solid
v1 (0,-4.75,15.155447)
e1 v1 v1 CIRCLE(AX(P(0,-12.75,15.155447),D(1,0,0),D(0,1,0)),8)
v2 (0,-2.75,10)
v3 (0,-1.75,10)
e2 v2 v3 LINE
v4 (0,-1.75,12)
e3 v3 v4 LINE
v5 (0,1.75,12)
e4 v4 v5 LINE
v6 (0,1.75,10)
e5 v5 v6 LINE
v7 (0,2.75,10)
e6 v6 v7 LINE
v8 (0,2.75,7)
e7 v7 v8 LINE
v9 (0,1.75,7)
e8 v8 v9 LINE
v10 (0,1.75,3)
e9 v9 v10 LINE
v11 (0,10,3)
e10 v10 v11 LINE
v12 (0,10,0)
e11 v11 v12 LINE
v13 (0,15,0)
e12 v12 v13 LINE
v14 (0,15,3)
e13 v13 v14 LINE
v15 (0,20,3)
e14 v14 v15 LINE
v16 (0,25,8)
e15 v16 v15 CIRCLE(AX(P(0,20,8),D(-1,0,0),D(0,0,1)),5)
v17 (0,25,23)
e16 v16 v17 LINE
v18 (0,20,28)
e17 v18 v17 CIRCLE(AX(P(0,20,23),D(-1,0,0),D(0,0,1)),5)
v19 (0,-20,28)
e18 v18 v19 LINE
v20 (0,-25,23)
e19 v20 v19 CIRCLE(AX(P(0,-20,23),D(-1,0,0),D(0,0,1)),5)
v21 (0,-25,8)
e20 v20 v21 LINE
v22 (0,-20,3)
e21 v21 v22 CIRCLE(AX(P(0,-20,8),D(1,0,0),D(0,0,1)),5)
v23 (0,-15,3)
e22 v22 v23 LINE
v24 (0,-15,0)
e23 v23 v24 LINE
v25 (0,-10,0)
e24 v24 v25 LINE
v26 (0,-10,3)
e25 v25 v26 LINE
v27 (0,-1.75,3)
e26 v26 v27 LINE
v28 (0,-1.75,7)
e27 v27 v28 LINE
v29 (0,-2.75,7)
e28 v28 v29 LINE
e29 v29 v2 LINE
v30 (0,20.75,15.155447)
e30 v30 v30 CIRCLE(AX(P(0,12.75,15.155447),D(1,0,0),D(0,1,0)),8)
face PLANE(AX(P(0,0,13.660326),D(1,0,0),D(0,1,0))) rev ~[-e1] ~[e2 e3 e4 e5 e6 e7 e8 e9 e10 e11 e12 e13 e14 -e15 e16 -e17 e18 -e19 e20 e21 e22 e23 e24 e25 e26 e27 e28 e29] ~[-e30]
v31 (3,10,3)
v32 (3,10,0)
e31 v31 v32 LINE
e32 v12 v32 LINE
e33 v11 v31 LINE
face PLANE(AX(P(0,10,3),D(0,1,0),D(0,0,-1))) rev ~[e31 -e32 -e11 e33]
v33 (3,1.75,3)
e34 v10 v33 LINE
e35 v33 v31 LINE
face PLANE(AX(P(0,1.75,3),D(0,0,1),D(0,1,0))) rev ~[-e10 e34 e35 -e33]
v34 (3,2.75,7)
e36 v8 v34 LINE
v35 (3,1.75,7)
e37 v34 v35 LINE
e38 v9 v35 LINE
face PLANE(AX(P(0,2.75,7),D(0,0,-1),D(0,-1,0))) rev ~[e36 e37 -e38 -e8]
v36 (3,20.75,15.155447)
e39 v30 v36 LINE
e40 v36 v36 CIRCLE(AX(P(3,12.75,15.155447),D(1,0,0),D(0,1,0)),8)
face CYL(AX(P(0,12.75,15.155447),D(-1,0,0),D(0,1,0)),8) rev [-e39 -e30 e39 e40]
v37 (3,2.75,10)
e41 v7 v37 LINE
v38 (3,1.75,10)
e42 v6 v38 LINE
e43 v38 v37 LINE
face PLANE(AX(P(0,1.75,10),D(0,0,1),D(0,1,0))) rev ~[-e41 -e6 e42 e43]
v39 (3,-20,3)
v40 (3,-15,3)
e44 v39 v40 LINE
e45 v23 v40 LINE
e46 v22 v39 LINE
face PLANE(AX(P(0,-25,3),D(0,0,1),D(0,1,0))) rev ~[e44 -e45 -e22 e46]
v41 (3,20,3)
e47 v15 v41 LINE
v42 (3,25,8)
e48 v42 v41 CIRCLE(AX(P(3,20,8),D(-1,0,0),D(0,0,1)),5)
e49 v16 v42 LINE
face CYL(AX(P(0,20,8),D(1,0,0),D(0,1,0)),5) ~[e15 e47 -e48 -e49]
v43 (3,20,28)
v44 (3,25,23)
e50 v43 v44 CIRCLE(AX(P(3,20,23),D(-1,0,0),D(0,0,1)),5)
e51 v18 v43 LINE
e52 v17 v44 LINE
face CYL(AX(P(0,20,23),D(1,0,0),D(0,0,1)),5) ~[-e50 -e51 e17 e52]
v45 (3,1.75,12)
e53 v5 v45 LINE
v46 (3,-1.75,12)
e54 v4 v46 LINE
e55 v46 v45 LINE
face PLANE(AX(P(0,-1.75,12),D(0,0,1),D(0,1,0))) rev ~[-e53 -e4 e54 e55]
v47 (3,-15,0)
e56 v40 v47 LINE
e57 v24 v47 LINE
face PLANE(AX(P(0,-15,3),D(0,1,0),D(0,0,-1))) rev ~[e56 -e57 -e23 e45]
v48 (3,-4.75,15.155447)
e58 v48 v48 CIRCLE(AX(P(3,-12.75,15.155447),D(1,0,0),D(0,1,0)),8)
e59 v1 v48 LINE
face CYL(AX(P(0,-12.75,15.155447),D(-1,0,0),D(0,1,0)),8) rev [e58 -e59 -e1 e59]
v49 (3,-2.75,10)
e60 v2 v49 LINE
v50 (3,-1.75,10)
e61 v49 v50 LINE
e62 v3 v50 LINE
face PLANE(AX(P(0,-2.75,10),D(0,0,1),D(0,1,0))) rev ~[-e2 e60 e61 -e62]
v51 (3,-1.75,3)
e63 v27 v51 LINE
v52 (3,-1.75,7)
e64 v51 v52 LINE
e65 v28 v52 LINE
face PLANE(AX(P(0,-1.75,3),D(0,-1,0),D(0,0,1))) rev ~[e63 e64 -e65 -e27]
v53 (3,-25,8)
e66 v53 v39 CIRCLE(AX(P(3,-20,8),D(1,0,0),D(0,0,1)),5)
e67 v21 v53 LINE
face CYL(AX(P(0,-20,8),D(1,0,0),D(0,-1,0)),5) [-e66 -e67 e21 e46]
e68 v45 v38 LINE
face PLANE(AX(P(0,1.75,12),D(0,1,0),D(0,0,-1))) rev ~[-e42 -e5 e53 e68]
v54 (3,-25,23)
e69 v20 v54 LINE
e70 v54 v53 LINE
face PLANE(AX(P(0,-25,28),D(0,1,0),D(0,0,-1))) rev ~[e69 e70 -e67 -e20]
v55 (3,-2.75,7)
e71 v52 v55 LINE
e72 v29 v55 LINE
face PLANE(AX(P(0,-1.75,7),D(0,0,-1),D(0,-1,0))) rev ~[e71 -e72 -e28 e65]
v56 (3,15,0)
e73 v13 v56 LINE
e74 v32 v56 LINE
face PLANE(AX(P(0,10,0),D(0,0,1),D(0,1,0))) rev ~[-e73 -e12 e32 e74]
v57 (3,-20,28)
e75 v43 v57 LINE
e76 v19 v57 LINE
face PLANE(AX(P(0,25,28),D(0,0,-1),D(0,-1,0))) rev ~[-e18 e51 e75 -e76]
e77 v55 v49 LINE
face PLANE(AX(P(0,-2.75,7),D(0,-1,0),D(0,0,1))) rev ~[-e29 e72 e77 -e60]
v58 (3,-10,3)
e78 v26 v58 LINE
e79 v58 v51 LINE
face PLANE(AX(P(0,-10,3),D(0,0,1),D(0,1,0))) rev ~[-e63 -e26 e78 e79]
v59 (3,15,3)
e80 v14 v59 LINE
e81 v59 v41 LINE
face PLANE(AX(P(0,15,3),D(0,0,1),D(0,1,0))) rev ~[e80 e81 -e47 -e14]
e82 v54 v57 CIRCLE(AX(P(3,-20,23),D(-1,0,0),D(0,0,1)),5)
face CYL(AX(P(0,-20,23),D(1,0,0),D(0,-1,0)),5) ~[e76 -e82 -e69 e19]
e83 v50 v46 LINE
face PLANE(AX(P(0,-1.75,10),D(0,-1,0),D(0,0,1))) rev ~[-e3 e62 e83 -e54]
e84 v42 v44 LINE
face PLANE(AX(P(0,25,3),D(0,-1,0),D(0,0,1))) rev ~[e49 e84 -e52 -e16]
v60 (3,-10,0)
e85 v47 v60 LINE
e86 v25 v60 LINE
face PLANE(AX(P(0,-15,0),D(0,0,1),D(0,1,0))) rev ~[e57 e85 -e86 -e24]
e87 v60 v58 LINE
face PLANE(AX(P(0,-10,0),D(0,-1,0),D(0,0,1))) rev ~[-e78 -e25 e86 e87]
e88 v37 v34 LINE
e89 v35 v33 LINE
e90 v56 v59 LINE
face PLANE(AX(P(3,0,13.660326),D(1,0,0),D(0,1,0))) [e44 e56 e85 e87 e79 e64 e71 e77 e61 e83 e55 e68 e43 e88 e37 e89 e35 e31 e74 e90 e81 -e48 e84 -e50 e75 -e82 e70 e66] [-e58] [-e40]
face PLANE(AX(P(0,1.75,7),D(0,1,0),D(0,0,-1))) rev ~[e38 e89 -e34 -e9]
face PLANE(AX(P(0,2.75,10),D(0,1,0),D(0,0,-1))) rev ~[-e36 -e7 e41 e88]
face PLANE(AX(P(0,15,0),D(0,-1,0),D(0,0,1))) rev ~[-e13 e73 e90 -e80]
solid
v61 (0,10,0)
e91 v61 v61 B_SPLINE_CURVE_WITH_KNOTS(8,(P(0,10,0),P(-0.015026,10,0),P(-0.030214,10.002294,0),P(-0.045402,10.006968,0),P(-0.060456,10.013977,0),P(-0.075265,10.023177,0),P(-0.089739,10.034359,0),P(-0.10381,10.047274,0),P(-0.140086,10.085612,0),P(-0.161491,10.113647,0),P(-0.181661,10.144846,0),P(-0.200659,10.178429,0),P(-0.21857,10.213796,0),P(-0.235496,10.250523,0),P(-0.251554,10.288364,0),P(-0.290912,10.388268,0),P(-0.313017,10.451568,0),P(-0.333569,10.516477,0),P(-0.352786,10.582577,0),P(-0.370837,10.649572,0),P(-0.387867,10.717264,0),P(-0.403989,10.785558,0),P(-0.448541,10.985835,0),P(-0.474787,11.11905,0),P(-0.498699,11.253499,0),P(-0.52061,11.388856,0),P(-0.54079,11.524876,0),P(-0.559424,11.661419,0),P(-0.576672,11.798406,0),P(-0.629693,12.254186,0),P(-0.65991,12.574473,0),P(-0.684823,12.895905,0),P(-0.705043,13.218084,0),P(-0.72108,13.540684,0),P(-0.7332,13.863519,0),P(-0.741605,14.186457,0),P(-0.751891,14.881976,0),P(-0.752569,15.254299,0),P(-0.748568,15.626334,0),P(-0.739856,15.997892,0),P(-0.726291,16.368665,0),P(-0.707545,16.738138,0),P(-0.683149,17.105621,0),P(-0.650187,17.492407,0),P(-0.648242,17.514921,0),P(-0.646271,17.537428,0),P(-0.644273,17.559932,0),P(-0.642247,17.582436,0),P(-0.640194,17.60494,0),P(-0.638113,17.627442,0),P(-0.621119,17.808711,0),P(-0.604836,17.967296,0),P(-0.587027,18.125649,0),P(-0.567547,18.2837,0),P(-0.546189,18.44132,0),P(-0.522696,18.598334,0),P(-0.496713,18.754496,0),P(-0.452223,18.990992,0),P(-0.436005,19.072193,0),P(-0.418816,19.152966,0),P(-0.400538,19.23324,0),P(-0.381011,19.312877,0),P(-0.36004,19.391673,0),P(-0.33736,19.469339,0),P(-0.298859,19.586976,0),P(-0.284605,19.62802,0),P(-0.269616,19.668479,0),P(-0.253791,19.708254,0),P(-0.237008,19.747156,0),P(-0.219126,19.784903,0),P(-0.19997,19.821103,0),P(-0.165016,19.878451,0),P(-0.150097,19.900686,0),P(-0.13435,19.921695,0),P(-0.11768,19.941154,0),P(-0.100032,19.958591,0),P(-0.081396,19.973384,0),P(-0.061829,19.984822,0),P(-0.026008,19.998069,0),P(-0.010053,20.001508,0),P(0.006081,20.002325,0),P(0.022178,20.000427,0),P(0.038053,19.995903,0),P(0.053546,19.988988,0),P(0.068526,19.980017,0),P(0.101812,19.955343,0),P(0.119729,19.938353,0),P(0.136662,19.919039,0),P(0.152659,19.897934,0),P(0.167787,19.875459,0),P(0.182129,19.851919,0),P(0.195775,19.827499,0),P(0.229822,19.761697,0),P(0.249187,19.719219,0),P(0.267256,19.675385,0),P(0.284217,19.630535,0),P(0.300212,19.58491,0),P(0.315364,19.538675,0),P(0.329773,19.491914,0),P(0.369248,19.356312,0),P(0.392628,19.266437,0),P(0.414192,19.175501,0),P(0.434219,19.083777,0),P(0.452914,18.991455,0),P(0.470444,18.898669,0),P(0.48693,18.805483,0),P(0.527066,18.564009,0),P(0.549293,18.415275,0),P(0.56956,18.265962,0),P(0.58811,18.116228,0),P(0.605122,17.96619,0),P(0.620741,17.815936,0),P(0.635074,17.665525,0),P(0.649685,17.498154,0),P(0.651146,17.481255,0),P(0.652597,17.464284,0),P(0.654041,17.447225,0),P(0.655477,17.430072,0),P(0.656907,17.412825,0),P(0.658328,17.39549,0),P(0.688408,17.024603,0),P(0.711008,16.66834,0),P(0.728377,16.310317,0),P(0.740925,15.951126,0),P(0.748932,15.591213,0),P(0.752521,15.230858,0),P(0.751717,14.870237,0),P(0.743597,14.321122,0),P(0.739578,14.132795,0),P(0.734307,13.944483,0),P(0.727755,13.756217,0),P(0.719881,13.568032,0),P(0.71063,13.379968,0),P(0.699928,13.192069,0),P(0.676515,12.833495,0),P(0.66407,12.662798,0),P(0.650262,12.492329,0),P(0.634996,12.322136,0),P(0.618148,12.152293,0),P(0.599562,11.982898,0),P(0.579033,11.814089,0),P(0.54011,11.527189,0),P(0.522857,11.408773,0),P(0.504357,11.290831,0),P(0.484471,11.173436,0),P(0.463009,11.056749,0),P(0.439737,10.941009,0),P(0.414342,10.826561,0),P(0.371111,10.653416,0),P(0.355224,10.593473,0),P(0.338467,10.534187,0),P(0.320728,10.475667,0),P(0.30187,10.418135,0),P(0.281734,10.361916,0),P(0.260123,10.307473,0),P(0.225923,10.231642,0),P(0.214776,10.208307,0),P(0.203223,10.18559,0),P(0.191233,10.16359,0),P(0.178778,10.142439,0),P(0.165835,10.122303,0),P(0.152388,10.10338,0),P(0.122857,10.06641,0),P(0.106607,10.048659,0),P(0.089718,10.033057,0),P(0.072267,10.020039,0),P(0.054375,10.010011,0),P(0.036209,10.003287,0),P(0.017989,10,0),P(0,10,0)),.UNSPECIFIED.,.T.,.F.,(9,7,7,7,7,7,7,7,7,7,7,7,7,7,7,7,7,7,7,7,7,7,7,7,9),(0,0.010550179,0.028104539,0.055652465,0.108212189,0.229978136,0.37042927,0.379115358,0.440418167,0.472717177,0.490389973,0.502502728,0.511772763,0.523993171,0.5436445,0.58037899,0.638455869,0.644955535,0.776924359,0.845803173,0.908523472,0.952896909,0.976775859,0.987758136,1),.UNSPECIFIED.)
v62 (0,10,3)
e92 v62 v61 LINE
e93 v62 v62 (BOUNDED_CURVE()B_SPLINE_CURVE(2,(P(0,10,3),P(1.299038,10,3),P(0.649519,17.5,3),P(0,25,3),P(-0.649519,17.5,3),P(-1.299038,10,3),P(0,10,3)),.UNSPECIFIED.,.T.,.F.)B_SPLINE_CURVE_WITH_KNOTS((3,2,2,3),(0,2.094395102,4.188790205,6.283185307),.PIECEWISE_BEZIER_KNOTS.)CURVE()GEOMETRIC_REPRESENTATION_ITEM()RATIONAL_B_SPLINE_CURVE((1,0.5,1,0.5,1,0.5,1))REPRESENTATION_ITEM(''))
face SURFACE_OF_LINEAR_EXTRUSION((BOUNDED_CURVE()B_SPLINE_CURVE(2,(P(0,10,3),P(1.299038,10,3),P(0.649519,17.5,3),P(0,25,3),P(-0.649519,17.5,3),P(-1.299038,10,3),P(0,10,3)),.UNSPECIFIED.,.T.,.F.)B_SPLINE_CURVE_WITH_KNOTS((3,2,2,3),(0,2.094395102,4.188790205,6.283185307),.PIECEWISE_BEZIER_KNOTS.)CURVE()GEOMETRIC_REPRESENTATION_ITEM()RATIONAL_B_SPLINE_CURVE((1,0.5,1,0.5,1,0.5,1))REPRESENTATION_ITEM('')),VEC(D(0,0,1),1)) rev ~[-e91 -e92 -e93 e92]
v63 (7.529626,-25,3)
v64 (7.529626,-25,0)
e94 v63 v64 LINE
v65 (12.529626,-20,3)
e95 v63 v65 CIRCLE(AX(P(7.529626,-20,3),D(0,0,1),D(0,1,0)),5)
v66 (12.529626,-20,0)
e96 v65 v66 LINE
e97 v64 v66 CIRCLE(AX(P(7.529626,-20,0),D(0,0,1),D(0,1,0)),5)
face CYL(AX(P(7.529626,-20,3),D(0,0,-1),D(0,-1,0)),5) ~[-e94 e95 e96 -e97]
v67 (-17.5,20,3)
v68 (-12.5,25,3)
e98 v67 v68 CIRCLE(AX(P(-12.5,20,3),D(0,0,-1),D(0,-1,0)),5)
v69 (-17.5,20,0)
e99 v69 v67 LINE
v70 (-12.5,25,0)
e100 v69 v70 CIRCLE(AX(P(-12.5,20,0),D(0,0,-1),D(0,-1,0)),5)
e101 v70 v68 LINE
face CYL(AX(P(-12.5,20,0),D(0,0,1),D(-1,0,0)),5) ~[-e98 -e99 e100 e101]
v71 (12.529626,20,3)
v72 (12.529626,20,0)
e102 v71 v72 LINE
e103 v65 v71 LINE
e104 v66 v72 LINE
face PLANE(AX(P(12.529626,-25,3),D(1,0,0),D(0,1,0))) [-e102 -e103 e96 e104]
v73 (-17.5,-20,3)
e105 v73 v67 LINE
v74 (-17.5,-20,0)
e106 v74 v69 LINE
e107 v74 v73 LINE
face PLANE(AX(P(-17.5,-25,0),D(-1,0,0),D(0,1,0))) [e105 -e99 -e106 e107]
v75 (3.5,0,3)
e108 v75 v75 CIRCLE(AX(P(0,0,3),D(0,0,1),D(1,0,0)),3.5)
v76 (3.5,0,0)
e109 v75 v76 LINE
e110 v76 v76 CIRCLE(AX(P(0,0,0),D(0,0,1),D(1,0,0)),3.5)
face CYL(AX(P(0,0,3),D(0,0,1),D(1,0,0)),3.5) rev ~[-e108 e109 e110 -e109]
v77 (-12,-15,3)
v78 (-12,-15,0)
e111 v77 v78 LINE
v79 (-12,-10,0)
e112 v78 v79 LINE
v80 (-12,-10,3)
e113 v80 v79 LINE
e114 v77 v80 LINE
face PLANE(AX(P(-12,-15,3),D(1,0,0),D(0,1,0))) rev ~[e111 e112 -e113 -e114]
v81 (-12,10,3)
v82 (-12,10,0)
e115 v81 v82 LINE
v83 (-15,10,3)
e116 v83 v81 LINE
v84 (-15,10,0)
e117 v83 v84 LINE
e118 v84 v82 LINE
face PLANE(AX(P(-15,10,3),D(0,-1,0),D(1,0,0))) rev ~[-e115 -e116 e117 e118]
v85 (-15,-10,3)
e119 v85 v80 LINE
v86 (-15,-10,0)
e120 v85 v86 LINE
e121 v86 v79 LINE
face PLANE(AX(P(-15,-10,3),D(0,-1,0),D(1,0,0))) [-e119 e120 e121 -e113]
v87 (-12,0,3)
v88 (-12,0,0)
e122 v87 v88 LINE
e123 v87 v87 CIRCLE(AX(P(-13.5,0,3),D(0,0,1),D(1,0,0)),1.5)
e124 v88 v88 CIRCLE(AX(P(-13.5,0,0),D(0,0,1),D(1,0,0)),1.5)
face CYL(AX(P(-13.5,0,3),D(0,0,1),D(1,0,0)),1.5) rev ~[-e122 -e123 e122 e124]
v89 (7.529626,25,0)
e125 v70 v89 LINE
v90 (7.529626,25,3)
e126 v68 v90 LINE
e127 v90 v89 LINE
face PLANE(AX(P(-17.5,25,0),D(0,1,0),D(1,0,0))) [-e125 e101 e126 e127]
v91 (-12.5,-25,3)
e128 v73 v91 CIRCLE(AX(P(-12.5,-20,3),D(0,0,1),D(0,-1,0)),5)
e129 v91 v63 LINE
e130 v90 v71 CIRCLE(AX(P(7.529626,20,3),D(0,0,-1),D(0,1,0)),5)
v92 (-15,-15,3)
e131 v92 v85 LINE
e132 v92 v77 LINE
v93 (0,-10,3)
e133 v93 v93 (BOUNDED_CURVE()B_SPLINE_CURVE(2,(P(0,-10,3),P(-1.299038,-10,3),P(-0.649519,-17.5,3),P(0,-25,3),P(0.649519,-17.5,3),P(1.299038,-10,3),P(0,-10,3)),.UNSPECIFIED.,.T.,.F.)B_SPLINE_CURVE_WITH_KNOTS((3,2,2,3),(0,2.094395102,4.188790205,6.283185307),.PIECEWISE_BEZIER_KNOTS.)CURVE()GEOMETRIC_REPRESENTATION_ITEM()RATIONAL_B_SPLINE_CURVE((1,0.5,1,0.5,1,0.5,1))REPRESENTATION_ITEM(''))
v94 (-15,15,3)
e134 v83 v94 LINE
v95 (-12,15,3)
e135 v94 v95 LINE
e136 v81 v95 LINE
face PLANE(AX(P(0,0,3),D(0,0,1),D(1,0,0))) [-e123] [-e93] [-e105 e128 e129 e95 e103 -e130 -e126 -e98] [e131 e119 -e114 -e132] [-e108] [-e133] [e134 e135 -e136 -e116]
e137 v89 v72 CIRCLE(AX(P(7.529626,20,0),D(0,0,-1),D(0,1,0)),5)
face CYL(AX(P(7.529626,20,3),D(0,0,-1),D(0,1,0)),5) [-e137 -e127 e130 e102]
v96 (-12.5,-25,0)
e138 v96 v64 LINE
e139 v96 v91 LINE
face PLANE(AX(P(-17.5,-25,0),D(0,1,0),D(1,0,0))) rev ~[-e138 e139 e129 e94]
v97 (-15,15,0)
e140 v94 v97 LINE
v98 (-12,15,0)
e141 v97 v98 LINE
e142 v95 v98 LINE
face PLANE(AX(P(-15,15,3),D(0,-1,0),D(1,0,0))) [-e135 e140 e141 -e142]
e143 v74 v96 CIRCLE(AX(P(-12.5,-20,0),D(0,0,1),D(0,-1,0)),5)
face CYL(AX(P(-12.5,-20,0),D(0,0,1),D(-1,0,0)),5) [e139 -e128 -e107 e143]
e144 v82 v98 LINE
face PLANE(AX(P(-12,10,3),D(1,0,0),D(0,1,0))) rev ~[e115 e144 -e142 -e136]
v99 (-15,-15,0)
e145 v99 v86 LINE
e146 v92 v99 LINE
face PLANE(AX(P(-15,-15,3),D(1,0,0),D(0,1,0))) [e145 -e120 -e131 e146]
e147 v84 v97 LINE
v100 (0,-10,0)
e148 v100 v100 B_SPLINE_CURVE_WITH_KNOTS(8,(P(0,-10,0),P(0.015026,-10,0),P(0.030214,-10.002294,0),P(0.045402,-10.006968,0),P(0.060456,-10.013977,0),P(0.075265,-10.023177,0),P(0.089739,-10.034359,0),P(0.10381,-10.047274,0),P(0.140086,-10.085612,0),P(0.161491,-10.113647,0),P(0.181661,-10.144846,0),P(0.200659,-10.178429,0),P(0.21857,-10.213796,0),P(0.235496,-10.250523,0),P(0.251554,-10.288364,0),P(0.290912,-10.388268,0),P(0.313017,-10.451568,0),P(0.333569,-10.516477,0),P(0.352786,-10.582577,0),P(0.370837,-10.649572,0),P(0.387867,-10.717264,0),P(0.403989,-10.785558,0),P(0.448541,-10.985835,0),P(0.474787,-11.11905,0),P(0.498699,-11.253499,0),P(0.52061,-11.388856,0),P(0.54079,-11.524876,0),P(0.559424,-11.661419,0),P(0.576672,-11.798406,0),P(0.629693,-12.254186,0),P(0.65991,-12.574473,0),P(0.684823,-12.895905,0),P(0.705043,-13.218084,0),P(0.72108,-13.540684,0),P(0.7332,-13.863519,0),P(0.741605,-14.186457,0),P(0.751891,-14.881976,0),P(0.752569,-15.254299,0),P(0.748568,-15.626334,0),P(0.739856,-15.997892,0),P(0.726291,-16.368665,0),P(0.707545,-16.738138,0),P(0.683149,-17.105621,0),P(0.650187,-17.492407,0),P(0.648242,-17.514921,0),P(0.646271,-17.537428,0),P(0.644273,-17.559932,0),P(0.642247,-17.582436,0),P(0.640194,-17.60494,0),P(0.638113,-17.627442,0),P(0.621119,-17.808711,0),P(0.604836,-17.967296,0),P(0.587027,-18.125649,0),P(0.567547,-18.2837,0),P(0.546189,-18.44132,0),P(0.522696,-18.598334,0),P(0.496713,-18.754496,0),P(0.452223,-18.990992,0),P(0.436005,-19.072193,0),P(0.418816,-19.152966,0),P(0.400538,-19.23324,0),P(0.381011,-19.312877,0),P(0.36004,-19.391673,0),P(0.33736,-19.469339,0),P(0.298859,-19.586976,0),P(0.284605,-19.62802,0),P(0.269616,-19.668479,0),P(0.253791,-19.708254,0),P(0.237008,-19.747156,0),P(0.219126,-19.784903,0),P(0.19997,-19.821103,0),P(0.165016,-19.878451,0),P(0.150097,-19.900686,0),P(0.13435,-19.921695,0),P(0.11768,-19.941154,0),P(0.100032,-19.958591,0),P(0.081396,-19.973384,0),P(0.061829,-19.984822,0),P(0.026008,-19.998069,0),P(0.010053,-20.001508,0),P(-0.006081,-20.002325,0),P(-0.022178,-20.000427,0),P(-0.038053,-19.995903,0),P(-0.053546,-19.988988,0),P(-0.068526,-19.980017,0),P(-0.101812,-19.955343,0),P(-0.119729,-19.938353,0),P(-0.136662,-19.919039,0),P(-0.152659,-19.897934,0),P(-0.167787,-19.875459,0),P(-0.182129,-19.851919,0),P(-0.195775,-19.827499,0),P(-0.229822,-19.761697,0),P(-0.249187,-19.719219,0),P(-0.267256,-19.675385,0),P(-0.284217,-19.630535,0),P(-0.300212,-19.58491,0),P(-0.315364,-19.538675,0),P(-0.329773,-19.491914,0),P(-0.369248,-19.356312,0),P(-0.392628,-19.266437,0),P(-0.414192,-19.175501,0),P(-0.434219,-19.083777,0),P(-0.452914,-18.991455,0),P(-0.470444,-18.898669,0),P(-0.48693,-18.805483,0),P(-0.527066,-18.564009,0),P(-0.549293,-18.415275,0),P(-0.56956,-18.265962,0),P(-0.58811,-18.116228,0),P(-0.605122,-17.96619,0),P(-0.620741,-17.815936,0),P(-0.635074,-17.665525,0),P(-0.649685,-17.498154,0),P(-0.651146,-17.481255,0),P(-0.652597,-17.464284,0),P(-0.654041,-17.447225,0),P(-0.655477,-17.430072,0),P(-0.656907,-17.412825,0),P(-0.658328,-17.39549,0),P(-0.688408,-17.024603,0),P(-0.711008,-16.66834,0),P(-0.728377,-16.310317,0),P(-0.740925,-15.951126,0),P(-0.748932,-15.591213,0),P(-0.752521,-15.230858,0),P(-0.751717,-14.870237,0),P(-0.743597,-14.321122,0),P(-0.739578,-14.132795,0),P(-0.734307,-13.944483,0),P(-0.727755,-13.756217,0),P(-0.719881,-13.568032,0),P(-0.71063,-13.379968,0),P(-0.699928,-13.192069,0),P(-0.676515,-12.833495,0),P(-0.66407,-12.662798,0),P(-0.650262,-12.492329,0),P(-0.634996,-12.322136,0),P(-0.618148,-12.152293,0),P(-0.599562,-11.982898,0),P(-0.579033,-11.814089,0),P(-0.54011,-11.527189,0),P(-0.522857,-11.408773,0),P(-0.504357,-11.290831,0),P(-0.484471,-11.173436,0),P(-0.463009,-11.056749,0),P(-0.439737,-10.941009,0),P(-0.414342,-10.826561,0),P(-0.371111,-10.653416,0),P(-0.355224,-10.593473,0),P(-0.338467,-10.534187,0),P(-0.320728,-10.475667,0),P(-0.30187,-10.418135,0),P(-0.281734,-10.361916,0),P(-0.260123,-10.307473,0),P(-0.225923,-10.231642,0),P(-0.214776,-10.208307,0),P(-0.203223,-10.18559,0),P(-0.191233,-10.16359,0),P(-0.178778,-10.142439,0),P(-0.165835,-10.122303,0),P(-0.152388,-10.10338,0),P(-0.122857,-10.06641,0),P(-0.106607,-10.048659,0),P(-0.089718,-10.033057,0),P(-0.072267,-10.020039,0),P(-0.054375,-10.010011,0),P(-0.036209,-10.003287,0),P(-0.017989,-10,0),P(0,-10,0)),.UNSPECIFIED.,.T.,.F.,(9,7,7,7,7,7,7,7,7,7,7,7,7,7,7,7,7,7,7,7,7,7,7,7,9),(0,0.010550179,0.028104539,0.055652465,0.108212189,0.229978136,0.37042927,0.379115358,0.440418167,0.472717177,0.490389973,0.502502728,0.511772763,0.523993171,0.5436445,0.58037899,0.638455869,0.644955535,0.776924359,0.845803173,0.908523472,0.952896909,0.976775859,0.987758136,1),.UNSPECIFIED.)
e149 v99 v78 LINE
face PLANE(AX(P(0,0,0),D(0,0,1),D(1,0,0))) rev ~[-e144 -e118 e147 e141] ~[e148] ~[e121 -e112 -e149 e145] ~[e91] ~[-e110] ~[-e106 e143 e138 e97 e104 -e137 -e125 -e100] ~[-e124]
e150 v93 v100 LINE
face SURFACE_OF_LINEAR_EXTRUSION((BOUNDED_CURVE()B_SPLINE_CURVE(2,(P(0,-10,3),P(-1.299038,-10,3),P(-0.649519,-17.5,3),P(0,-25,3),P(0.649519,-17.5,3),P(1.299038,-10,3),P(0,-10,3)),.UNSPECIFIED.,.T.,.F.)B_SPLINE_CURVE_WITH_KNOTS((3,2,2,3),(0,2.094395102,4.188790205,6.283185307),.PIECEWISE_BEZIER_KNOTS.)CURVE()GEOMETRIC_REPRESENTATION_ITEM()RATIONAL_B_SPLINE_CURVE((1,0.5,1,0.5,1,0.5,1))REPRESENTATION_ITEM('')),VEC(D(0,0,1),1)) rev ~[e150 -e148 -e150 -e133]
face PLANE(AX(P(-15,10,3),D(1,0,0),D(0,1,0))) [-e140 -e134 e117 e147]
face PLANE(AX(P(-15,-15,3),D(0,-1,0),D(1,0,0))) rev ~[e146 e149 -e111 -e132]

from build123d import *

# Parameters (mm, degrees)
F0_W     = 35
F0_H     = 50
F1_DEPTH = 3
F2_W     = 3
F2_H     = 5
F2_R     = 1.5
F2_R_2   = 3.5
F2_W_2   = 4.9703744426
F2_H_2   = 50
F3_DEPTH = 25
F4_R     = 8
F5_DEPTH = 3
F6_R     = 5
F7_R     = 5


with BuildPart() as f1:
    # F0 (on Top) → F1 (new body)
    with BuildSketch(Plane.XY):
        Rectangle(F0_W, F0_H)
    extrude(amount=F1_DEPTH)

    # F2 (on face) → F3 (cut)
    with BuildSketch(Plane.XY.offset(3)):
        with Locations((-13.5, -12.5)):
            Rectangle(F2_W, F2_H)
        with Locations((-13.5, 12.5)):
            Rectangle(F2_W, F2_H)
        with Locations((-13.5, 0)):
            Circle(F2_R)
        Circle(F2_R_2)
        with BuildLine():
            add(Edge.make_bspline(
                [(0, -10), (-1.2990381057, -10), (-0.6495190528, -17.5), (0, -25), (0.6495190528, -17.5), (1.2990381057, -10), (0, -10)],
                knots=[0, 0, 0, 2.0943951024, 2.0943951024, 4.1887902048, 4.1887902048, 6.2831853072, 6.2831853072, 6.2831853072], degree=2, weights=[1, 0.5, 1, 0.5, 1, 0.5, 1]))
        make_face()
        with BuildLine():
            add(Edge.make_bspline(
                [(0, 10), (1.2990381057, 10), (0.6495190528, 17.5), (0, 25), (-0.6495190528, 17.5), (-1.2990381057, 10), (0, 10)],
                knots=[0, 0, 0, 2.0943951024, 2.0943951024, 4.1887902048, 4.1887902048, 6.2831853072, 6.2831853072, 6.2831853072], degree=2, weights=[1, 0.5, 1, 0.5, 1, 0.5, 1]))
        make_face()
        with Locations((15.0148127787, 0)):
            Rectangle(F2_W_2, F2_H_2)
    extrude(amount=-F3_DEPTH, mode=Mode.SUBTRACT)

    # F6
    f6_edges = [f1.edges().sort_by_distance(p)[0] for p in [
        (12.529626, 25, 1.5),
        (12.529626, -25, 1.5),
        (-17.5, -25, 1.5),
        (-17.5, 25, 1.5),
    ]]
    fillet(f6_edges, radius=F6_R)


with BuildPart() as f5:
    # F4 (on Right) → F5 (new body)
    with BuildSketch(Plane.YZ):
        Polygon((-25, 28), (-25, 3), (-15, 3), (-15, 0), (-10, 0), (-10, 3), (-1.75, 3), (-1.75, 7), (-2.75, 7), (-2.75, 10), (-1.75, 10), (-1.75, 12), (1.75, 12), (1.75, 10), (2.75, 10), (2.75, 7), (1.75, 7), (1.75, 3), (10, 3), (10, 0), (15, 0), (15, 3), (25, 3), (25, 28), align=None)
        with Locations((-12.75, 15.1554467157)):
            Circle(F4_R, mode=Mode.SUBTRACT)
        with Locations((12.75, 15.1554467157)):
            Circle(F4_R, mode=Mode.SUBTRACT)
    extrude(amount=F5_DEPTH)

    # F7
    f7_edges = [f5.edges().sort_by_distance(p)[0] for p in [
        (1.5, -25, 3),
        (1.5, -25, 28),
        (1.5, 25, 28),
        (1.5, 25, 3),
    ]]
    fillet(f7_edges, radius=F7_R)


solid = Compound([f1.part, f5.part])
